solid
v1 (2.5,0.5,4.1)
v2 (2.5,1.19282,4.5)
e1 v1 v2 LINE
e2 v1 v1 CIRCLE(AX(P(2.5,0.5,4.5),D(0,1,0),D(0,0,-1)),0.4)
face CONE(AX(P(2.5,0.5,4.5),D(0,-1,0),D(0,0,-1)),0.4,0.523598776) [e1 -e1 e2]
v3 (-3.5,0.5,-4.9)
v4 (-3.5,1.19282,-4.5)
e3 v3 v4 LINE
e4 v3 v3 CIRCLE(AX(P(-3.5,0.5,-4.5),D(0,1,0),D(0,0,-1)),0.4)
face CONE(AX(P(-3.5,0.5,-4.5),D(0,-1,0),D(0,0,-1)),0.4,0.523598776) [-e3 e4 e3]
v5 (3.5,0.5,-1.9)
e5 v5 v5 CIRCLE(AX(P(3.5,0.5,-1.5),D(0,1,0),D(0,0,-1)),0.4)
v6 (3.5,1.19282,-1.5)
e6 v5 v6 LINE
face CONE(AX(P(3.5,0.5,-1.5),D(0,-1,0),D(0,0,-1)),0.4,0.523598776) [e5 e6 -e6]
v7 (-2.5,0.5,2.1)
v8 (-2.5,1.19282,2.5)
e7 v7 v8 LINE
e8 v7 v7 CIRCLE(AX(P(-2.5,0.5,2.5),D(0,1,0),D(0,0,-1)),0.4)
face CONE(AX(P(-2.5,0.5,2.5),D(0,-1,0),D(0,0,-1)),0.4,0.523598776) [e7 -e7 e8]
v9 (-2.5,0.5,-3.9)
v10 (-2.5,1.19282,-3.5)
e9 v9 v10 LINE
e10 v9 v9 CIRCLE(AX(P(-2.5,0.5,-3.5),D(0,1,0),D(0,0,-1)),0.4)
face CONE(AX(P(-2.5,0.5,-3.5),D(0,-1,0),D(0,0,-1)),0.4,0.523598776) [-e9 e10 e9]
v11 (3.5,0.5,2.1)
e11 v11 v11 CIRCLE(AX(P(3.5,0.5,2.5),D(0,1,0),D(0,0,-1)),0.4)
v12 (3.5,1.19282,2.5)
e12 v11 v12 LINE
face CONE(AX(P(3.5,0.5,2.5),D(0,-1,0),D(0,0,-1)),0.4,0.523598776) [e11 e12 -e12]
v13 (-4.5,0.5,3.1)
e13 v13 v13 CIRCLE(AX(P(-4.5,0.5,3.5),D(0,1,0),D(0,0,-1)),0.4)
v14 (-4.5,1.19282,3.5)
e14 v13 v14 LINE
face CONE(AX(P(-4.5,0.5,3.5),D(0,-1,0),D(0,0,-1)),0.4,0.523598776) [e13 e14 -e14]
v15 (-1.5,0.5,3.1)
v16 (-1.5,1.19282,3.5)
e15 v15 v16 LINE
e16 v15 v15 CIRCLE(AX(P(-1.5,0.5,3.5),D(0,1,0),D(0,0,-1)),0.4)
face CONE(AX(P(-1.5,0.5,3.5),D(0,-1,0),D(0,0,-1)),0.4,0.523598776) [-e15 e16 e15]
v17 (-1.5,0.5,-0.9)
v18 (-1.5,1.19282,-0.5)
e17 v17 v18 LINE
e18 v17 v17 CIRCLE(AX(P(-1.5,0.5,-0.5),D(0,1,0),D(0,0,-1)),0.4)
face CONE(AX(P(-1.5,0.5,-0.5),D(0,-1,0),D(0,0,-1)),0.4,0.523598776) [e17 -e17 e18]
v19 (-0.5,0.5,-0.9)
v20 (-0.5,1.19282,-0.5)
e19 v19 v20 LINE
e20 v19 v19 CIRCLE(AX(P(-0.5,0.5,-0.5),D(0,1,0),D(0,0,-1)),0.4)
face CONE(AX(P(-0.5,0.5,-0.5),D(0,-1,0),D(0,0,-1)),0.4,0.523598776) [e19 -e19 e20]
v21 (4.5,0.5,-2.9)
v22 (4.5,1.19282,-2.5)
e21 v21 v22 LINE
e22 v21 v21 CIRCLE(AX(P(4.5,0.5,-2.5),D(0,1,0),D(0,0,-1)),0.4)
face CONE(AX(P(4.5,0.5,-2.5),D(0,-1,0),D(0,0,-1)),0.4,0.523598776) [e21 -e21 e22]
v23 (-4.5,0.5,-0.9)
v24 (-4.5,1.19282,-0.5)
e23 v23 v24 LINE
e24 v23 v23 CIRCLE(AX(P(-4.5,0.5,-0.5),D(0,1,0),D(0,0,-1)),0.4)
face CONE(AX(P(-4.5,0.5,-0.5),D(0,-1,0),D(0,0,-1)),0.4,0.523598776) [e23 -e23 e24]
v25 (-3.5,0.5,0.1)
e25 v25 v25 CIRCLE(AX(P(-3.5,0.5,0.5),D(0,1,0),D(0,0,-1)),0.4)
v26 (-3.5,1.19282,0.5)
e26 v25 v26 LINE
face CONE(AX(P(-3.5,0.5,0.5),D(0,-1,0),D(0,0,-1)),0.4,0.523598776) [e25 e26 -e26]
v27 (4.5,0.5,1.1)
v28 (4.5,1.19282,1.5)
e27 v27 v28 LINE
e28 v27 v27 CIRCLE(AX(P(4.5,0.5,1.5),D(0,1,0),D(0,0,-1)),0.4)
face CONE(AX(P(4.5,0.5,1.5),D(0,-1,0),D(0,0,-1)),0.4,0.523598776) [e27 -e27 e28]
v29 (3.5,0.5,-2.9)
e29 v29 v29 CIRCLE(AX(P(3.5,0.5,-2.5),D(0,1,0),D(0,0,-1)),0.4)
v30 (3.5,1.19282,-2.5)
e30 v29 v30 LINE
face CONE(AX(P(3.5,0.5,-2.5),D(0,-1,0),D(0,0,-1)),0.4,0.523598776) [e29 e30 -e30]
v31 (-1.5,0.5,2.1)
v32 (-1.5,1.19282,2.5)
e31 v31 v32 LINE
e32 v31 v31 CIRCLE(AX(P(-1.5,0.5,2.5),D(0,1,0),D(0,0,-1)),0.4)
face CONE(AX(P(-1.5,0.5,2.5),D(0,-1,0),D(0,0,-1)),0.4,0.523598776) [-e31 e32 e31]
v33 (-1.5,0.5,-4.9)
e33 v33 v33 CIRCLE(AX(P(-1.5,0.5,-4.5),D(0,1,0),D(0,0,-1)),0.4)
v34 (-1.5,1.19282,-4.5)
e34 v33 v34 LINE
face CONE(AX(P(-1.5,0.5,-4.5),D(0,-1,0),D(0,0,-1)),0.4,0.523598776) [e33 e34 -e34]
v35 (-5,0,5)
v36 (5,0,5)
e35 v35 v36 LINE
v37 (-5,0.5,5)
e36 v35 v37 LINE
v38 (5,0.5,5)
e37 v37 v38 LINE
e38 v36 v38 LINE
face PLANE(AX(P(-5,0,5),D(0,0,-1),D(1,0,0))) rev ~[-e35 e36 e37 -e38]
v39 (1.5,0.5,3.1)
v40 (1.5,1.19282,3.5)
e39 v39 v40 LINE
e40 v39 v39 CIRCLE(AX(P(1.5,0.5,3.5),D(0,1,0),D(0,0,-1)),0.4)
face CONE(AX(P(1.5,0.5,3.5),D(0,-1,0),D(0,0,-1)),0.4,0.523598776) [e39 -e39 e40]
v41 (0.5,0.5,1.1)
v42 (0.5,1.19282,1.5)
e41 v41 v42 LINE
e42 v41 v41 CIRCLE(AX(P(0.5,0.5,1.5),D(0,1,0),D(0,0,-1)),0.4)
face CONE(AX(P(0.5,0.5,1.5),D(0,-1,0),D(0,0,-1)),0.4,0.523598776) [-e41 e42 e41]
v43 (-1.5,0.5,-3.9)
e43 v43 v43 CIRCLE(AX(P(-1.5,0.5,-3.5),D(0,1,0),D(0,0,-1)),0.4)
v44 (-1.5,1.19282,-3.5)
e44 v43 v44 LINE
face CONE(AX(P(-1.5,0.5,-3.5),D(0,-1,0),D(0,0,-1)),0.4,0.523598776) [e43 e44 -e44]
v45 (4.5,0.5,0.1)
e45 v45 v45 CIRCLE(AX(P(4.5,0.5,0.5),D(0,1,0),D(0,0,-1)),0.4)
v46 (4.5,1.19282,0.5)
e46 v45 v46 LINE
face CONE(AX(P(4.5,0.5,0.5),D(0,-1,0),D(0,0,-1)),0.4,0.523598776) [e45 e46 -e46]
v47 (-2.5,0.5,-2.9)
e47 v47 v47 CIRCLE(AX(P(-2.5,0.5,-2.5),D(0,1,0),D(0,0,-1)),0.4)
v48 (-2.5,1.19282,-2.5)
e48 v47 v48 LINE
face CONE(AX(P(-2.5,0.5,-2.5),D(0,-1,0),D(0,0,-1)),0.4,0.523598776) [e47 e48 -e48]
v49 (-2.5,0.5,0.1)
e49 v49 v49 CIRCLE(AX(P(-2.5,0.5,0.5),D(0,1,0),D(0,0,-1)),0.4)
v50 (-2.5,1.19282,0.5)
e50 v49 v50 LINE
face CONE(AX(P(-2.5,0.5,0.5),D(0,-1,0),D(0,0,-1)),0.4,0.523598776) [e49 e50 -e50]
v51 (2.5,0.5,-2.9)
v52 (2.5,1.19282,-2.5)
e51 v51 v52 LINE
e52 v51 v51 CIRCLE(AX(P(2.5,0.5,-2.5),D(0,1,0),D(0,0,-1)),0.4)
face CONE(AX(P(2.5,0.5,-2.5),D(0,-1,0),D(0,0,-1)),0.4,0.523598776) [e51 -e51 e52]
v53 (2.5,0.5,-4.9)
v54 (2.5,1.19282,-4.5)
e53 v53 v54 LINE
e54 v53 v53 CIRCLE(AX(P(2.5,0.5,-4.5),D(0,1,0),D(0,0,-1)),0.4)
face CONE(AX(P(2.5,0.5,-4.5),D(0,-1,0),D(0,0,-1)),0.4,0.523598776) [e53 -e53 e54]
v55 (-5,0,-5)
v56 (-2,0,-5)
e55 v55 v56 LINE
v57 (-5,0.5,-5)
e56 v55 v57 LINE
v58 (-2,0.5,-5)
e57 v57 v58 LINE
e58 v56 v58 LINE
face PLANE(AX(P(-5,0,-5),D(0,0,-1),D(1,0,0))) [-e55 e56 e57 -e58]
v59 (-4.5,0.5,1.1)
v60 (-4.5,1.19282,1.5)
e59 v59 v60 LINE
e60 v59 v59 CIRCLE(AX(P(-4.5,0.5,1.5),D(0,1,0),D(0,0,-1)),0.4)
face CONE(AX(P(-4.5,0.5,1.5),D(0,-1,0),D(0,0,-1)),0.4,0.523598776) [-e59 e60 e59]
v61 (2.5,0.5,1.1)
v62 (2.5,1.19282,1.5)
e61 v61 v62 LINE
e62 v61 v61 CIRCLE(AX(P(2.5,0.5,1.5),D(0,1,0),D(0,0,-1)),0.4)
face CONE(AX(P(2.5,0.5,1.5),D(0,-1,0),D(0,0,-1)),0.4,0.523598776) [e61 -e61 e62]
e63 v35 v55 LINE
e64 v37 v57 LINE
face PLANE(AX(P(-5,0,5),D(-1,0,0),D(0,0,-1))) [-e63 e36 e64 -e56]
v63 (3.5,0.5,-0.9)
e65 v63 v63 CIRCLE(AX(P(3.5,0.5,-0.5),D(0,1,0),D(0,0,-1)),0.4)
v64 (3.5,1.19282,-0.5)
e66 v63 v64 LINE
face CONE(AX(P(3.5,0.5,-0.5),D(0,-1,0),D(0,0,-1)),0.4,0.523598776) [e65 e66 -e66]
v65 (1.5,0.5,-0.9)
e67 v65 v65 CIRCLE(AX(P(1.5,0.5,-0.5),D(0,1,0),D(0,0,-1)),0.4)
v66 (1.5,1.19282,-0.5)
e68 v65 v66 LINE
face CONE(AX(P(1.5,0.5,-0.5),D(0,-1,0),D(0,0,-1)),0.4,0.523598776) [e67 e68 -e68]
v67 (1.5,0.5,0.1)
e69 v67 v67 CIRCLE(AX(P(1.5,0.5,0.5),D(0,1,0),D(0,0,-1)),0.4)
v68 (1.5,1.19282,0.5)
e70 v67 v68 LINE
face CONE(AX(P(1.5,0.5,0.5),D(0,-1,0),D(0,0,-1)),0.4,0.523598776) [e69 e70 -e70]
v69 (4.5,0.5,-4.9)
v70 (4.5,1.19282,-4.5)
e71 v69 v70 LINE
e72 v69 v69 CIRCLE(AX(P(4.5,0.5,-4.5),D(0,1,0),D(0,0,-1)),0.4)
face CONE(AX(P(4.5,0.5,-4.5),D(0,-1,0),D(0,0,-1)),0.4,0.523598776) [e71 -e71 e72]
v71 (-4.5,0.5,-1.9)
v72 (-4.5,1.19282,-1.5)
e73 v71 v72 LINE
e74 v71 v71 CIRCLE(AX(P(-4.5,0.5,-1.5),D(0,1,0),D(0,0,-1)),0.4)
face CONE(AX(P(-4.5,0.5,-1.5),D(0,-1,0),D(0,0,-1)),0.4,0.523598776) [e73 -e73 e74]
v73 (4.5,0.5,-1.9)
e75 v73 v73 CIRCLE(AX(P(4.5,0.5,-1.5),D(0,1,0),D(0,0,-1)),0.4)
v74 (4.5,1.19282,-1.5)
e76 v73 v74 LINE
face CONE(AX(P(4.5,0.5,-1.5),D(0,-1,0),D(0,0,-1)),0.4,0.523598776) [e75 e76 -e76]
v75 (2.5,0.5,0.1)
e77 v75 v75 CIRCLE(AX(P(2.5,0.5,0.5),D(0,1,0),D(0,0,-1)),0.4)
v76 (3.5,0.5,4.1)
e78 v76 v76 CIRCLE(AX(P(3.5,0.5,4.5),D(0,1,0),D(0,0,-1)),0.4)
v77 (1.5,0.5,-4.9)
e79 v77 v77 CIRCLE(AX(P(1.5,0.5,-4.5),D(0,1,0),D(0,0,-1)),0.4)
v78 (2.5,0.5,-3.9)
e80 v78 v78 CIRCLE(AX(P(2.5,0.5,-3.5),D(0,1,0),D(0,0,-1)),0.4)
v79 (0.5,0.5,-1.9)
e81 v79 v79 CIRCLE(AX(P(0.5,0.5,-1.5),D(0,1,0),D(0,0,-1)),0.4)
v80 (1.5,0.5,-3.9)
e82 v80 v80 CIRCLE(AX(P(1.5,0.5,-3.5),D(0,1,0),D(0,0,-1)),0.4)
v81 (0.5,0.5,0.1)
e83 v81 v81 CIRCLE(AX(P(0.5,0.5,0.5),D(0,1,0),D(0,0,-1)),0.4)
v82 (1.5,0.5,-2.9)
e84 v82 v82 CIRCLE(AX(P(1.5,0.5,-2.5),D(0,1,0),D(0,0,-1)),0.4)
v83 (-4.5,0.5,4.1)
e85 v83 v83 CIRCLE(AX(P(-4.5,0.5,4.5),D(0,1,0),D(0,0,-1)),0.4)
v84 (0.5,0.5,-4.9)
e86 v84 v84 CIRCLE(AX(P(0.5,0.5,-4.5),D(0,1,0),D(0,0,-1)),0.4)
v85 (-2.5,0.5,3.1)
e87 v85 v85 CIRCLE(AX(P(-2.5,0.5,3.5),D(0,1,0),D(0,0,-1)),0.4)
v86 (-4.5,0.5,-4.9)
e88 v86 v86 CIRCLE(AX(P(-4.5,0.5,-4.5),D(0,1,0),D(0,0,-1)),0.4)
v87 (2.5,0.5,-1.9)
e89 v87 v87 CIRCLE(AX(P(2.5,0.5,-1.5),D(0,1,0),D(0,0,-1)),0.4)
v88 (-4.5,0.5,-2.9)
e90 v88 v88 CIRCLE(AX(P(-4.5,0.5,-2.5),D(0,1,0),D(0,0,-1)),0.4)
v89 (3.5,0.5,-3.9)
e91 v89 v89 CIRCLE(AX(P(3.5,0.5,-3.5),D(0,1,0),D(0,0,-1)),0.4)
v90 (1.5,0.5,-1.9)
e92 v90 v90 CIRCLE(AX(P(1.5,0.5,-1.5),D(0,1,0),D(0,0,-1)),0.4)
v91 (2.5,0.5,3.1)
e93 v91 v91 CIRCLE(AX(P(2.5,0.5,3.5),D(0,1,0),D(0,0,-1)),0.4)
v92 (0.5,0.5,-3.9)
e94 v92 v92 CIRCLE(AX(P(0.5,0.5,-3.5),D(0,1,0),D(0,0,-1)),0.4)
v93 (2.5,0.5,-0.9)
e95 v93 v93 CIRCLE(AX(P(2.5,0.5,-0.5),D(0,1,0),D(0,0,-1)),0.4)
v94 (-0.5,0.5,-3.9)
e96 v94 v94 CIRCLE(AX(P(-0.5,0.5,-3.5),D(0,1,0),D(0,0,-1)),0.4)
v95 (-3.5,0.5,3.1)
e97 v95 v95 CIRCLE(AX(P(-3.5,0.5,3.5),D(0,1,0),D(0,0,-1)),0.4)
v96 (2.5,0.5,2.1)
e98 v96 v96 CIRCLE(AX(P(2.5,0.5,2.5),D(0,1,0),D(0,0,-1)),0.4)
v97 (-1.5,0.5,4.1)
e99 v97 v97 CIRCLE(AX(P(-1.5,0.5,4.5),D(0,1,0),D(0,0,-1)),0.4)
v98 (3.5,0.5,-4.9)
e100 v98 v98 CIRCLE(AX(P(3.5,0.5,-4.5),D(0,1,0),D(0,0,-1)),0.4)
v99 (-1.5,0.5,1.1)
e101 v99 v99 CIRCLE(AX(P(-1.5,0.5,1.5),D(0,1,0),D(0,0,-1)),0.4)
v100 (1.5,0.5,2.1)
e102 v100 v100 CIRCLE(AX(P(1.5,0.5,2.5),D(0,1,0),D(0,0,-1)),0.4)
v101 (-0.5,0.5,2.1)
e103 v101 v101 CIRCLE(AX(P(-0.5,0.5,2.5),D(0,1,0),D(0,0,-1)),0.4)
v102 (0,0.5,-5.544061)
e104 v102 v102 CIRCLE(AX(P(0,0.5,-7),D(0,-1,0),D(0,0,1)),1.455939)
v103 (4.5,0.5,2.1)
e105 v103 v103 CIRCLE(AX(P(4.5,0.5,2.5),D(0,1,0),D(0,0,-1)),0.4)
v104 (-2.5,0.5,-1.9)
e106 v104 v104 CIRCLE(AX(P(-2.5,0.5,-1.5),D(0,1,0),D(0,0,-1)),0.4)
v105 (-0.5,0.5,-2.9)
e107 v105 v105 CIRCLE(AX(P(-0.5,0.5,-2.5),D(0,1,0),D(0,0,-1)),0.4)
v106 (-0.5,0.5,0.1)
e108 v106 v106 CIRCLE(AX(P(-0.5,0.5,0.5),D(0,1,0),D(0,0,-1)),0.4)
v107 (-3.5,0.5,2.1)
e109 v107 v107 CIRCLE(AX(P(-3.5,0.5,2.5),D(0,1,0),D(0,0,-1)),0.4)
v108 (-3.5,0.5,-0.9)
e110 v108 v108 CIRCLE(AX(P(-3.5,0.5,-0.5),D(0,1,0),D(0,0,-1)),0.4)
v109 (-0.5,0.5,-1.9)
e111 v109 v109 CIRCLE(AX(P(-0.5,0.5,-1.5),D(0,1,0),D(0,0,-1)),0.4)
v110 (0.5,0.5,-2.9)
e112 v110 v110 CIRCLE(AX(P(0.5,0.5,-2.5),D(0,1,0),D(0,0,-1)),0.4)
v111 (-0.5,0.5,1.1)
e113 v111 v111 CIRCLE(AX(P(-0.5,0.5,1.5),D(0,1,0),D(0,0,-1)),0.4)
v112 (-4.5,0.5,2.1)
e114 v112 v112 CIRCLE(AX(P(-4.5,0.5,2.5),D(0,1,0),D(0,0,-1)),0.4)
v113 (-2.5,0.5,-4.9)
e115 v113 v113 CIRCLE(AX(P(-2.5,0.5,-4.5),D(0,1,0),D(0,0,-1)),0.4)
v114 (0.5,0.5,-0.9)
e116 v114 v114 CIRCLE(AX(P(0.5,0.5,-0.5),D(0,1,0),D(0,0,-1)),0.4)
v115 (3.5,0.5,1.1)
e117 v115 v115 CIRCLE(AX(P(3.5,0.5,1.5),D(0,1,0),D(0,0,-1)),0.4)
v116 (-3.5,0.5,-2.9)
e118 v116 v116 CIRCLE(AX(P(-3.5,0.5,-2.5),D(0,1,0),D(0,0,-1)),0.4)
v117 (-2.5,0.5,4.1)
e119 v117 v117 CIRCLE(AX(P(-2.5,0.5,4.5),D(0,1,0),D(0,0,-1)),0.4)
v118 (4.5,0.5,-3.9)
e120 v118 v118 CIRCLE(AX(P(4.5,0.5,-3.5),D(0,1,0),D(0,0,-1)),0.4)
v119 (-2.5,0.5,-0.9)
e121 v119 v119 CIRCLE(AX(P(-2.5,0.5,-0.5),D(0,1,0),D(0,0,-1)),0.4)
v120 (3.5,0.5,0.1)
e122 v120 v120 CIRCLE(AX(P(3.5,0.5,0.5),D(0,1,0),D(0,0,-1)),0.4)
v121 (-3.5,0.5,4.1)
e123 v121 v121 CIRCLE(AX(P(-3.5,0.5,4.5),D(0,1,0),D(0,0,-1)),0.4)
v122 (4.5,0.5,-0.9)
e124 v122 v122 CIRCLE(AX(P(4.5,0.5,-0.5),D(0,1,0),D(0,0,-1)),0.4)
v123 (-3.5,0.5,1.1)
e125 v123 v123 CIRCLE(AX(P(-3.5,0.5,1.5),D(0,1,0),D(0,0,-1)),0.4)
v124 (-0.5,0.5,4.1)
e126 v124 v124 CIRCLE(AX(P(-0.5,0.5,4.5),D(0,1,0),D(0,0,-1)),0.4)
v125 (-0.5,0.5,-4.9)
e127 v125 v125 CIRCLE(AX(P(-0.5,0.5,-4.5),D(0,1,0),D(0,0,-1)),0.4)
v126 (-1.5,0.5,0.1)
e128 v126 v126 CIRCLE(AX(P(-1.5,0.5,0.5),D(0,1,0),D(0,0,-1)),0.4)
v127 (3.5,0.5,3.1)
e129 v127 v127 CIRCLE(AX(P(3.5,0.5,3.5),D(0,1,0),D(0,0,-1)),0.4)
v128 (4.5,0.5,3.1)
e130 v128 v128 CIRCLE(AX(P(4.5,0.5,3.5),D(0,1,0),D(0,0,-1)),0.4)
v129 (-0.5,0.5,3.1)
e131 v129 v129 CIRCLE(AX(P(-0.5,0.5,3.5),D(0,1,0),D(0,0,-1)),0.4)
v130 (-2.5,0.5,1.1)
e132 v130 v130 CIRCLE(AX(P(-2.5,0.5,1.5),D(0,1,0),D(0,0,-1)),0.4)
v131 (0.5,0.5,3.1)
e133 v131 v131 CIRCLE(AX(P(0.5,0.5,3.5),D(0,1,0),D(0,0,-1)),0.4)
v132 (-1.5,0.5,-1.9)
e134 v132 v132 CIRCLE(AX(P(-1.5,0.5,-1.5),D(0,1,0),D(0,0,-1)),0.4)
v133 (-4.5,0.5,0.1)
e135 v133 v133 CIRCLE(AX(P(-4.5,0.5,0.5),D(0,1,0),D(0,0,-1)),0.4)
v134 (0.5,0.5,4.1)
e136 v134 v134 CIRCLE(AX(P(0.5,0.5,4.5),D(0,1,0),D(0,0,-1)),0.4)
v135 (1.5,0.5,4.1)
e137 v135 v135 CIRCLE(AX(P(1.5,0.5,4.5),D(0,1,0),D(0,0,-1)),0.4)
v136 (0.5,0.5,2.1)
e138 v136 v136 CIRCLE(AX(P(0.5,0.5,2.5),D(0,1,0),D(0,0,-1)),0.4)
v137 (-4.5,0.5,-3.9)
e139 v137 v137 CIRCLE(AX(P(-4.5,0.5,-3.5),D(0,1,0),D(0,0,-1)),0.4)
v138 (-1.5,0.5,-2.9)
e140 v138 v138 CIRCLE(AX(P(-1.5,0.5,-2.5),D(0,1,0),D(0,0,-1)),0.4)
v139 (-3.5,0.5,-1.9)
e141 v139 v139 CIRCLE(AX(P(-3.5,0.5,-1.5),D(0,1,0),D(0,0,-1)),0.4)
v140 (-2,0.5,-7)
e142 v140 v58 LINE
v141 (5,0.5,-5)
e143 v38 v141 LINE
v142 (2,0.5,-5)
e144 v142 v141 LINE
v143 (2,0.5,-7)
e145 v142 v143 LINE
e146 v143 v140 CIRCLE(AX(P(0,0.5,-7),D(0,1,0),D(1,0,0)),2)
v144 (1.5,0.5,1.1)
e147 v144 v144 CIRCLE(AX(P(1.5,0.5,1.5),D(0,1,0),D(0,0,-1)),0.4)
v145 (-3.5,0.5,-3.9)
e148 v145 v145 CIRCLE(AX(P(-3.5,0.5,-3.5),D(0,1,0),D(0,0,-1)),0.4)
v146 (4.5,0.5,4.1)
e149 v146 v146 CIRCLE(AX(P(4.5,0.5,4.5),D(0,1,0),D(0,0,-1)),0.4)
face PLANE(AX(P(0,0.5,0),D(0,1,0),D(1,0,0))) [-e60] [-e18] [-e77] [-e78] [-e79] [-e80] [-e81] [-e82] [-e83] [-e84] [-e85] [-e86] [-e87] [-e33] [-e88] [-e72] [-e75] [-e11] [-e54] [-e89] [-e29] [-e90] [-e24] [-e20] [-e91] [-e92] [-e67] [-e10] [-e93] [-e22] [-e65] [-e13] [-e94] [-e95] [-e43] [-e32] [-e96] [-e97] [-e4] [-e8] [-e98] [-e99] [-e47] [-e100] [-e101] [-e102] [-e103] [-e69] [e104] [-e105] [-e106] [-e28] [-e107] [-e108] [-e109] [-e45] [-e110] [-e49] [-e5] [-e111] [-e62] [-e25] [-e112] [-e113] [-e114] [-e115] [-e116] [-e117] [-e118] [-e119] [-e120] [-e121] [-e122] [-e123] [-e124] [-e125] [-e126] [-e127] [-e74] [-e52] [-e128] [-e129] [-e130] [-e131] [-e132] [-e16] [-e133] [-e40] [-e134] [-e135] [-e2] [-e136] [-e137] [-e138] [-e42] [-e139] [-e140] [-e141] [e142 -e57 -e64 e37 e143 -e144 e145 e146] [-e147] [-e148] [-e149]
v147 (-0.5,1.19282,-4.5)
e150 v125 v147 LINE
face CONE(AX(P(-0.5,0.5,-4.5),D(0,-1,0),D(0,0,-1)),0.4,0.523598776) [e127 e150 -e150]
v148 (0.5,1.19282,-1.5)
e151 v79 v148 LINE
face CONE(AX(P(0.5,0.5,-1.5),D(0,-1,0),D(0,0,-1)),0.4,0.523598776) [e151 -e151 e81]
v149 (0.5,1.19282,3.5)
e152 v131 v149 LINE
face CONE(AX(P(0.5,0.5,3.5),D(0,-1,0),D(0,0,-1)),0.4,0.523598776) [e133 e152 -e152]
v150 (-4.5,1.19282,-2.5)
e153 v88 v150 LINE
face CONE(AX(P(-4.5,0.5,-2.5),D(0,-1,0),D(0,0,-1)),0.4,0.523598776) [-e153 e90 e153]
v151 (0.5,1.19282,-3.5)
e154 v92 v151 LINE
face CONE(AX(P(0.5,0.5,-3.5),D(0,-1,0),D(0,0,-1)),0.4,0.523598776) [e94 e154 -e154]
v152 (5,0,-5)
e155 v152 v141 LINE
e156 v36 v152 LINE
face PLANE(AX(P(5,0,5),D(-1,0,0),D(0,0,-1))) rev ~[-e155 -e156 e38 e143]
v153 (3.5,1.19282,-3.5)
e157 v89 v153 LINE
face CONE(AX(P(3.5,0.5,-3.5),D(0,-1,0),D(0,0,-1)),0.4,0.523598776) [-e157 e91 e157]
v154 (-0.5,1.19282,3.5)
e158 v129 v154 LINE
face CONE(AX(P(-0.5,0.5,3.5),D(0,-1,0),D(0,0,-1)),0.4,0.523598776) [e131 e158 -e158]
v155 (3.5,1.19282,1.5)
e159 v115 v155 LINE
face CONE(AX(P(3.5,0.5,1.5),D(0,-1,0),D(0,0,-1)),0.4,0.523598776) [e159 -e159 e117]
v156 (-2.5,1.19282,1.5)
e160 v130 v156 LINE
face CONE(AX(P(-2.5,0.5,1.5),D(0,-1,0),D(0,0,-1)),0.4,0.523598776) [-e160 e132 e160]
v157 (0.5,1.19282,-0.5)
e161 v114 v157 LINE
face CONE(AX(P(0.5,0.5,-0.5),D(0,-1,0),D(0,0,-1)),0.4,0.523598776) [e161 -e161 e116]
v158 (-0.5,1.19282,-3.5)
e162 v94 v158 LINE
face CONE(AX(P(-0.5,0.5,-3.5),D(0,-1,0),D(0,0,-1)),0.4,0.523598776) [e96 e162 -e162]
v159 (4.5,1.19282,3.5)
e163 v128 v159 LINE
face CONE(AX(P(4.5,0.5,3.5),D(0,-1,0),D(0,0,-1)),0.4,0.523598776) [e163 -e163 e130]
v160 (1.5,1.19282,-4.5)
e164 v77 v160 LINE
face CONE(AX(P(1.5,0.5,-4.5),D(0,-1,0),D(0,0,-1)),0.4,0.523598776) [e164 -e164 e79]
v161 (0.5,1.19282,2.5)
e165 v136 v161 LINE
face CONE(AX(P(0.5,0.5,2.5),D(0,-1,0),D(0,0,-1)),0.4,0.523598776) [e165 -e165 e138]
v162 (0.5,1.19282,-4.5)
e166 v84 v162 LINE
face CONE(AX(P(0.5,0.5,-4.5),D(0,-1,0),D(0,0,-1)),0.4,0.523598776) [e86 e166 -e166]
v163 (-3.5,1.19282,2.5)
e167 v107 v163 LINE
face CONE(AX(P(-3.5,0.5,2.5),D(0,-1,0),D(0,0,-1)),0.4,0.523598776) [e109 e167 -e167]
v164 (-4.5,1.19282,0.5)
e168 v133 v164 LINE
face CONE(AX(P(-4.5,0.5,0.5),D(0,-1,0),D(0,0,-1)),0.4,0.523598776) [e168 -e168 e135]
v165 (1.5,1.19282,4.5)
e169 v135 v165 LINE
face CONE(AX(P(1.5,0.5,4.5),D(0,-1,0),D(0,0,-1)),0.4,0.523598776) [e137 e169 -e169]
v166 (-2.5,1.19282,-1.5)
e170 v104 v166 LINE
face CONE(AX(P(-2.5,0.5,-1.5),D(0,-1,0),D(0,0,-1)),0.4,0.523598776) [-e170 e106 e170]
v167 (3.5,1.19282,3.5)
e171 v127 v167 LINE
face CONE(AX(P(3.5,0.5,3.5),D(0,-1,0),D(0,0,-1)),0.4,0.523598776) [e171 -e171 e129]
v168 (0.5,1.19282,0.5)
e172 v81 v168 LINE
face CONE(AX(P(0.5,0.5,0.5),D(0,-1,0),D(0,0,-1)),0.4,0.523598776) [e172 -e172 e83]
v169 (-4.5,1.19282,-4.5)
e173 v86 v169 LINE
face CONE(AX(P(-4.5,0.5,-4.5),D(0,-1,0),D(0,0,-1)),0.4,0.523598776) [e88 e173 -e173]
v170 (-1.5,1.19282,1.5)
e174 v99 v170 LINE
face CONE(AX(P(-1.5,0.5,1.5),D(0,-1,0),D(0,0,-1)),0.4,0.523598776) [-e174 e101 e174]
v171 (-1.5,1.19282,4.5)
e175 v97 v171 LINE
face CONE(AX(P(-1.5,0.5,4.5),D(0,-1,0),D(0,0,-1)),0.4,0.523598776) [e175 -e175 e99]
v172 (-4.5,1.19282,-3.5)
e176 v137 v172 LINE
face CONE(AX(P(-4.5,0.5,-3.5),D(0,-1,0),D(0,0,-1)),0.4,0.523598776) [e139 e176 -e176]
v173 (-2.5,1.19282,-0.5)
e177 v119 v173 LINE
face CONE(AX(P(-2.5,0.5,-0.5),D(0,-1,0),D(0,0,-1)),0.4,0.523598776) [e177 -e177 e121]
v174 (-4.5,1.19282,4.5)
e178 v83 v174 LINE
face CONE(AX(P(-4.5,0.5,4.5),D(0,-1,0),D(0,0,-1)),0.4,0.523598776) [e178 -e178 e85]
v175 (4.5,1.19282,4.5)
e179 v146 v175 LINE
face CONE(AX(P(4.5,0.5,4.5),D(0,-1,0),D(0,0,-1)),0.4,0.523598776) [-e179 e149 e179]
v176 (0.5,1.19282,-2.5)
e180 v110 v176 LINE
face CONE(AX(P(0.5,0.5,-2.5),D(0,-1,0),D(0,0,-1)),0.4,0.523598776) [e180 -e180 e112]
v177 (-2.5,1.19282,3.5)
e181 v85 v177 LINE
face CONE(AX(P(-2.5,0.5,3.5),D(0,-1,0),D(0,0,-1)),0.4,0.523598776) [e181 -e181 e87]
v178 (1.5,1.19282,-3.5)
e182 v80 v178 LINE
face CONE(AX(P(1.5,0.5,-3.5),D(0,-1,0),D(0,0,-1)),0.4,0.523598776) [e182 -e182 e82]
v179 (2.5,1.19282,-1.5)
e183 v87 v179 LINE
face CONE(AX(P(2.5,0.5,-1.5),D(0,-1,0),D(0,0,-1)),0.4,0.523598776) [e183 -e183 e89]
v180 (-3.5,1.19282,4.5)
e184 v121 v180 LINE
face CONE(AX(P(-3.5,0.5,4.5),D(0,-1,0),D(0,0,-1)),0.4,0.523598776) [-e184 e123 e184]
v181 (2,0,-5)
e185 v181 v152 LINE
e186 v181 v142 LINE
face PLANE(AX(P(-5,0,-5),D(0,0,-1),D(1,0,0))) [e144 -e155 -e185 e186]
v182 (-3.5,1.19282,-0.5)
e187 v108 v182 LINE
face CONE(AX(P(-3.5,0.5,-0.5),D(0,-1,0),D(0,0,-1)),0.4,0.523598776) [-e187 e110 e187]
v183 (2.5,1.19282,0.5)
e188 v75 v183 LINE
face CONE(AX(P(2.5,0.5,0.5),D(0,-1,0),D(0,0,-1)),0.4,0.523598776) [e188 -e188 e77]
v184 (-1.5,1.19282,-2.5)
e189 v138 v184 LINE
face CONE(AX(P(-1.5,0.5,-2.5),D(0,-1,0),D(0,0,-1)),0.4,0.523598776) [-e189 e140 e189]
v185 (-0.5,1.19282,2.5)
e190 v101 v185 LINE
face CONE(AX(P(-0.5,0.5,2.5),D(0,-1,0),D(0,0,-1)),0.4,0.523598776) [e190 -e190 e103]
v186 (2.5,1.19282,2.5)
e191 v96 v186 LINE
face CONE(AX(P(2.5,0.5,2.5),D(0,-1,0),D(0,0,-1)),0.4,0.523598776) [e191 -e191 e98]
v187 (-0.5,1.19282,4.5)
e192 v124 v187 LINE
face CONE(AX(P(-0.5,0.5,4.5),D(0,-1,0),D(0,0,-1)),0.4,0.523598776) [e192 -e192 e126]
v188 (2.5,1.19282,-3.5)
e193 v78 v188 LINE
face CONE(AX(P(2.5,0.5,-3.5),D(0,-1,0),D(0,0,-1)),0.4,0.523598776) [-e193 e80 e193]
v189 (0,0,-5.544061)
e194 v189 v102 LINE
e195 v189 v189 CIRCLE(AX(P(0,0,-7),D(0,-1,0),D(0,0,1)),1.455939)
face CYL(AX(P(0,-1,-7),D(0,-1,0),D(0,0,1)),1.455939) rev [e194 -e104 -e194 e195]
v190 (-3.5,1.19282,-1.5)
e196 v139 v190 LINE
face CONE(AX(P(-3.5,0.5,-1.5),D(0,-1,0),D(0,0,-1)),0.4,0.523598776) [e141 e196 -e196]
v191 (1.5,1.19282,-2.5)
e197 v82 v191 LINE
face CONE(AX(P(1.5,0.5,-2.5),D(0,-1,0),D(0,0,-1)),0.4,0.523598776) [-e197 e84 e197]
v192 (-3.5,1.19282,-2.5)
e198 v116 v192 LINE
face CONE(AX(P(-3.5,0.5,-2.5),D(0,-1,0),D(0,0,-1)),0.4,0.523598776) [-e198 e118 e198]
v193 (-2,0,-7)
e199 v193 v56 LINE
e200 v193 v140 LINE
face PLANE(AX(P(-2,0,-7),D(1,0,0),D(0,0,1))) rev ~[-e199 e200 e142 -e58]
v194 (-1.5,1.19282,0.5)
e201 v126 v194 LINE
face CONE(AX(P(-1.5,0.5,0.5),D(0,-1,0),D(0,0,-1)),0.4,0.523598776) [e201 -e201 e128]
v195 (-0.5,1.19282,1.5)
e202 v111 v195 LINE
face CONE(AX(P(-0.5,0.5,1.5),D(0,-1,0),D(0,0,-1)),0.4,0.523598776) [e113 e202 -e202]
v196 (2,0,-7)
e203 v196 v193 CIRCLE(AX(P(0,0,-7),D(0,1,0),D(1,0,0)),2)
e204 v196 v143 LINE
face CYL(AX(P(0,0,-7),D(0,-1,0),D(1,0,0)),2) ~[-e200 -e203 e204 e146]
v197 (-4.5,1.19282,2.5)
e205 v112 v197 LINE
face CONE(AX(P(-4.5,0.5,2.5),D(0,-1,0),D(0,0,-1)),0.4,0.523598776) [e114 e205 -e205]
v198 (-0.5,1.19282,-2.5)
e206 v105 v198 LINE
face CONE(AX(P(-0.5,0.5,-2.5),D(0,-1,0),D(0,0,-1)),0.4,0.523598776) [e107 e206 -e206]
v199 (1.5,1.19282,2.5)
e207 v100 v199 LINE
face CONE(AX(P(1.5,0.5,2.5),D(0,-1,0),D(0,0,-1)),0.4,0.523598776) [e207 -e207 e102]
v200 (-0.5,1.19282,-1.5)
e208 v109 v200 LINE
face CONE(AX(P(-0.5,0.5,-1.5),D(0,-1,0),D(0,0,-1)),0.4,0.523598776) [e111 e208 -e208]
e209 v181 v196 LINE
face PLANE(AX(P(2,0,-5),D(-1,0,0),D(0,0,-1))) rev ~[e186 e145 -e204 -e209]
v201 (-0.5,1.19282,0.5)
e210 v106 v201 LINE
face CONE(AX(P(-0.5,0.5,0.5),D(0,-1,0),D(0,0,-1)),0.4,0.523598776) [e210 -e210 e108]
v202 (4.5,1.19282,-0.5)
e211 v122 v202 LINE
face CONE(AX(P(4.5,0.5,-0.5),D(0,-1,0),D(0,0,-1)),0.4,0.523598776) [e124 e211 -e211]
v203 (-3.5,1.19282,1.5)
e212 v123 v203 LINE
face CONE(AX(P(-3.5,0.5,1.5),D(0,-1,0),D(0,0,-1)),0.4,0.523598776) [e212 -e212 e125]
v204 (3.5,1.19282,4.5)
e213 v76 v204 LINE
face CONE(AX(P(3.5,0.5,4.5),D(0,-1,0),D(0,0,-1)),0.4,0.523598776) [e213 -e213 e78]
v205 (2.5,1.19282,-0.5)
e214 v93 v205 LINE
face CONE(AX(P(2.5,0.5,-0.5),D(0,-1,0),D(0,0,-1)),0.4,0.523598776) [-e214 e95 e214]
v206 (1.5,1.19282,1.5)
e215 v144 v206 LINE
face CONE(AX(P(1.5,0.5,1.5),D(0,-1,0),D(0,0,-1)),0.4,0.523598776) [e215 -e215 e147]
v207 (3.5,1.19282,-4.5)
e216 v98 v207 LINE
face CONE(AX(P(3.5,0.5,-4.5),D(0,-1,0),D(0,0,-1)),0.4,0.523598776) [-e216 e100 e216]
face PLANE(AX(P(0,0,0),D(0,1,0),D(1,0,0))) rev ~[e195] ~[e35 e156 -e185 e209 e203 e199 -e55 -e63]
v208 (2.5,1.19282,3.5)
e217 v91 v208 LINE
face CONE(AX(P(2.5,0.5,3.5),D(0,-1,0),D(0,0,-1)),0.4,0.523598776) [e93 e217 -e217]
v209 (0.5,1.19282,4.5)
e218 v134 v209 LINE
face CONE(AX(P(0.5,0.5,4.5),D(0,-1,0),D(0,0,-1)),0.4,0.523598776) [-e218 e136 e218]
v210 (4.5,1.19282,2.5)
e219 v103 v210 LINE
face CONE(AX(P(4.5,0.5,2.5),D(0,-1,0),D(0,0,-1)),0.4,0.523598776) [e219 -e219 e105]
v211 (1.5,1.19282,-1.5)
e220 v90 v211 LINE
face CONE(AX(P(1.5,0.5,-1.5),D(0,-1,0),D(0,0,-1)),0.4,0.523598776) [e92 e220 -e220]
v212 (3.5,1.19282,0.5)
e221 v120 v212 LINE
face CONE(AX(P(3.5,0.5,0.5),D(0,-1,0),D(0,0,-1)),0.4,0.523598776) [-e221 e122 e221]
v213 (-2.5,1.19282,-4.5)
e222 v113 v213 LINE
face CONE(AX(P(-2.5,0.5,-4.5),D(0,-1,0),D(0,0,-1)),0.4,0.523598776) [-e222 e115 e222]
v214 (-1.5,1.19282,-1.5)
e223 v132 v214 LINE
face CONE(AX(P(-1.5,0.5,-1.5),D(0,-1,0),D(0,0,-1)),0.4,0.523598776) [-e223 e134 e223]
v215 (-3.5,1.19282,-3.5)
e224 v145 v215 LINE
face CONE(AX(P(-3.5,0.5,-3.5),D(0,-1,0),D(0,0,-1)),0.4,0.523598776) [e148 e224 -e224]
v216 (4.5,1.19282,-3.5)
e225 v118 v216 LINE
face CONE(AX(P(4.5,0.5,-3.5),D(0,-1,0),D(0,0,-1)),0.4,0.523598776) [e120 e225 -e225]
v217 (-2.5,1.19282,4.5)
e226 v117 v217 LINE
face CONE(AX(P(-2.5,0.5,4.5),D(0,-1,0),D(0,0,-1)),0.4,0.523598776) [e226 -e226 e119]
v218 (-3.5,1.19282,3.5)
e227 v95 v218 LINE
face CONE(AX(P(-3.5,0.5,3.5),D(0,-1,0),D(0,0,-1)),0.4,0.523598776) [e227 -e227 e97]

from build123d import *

# Parameters (mm, degrees)
SKETCH1_W               = 10
SKETCH1_H               = 10
PLATE_DEPTH             = 0.5
BOSS_EXTRUDE3_DEPTH     = 0.5
CUT_EXTRUDE1_DEPTH      = 0.5
CUT_EXTRUDE1_DEPTH_BACK = 1.5
SKETCH5_R               = 1.455938962
LPATTERN1_COUNT         = 10
LPATTERN1_PITCH         = 1
LPATTERN1_COUNT_DIR2    = 10
LPATTERN1_PITCH_DIR2    = 1


with BuildPart() as part:
    # Sketch1 → Plate (new body)
    with BuildSketch(Plane(origin=(0, 0, 0), x_dir=(1, 0, 0), z_dir=(0, 1, 0))):
        Rectangle(SKETCH1_W, SKETCH1_H)
    extrude(amount=PLATE_DEPTH)

    # Sketch4 → Boss-Extrude3 (add)
    with BuildSketch(Plane(origin=(0, 0, 0), x_dir=(1, 0, 0), z_dir=(0, 1, 0))):
        with BuildLine():
            Line((-2, 7), (-2, 5))
            Line((-2, 5), (2, 5))
            Line((2, 5), (2, 7))
            ThreePointArc((2, 7), (0, 9), (-2, 7))
        make_face()
    extrude(amount=BOSS_EXTRUDE3_DEPTH)

    # Sketch5 → Cut-Extrude1 (cut, two sides: drawn at the far end of the back side and taken through both)
    with BuildSketch(Plane(origin=(0, 0.5, 0), x_dir=(1, 0, 0), z_dir=(0, 1, 0)).offset(-CUT_EXTRUDE1_DEPTH_BACK)):
        with Locations(Location((0, 7, 0), (0, 0, 270))):
            Circle(SKETCH5_R)
    extrude(amount=CUT_EXTRUDE1_DEPTH + CUT_EXTRUDE1_DEPTH_BACK, mode=Mode.SUBTRACT)

    # Boss-Extrude4 cone 1 section (through the dimple's axis) → Boss-Extrude4 (revolve)
    with BuildSketch(Plane(origin=(-4.5, 0.5, 4.5), x_dir=(0, 0, -1), z_dir=(1, 0, 0))):
        Polygon((0, 0), (0.4, 0), (0, 0.692820323), align=None)
    boss_extrude4 = revolve(axis=Axis((-4.5, 0.5, 4.5), (0, 1, 0)))

    # LPattern1: Boss-Extrude4 10 × 10
    with Locations(*[(i * LPATTERN1_PITCH, 0, -j * LPATTERN1_PITCH_DIR2) for i in range(LPATTERN1_COUNT) for j in range(LPATTERN1_COUNT_DIR2) if (i, j) != (0, 0)]):
        add(boss_extrude4)


solid = part.part
